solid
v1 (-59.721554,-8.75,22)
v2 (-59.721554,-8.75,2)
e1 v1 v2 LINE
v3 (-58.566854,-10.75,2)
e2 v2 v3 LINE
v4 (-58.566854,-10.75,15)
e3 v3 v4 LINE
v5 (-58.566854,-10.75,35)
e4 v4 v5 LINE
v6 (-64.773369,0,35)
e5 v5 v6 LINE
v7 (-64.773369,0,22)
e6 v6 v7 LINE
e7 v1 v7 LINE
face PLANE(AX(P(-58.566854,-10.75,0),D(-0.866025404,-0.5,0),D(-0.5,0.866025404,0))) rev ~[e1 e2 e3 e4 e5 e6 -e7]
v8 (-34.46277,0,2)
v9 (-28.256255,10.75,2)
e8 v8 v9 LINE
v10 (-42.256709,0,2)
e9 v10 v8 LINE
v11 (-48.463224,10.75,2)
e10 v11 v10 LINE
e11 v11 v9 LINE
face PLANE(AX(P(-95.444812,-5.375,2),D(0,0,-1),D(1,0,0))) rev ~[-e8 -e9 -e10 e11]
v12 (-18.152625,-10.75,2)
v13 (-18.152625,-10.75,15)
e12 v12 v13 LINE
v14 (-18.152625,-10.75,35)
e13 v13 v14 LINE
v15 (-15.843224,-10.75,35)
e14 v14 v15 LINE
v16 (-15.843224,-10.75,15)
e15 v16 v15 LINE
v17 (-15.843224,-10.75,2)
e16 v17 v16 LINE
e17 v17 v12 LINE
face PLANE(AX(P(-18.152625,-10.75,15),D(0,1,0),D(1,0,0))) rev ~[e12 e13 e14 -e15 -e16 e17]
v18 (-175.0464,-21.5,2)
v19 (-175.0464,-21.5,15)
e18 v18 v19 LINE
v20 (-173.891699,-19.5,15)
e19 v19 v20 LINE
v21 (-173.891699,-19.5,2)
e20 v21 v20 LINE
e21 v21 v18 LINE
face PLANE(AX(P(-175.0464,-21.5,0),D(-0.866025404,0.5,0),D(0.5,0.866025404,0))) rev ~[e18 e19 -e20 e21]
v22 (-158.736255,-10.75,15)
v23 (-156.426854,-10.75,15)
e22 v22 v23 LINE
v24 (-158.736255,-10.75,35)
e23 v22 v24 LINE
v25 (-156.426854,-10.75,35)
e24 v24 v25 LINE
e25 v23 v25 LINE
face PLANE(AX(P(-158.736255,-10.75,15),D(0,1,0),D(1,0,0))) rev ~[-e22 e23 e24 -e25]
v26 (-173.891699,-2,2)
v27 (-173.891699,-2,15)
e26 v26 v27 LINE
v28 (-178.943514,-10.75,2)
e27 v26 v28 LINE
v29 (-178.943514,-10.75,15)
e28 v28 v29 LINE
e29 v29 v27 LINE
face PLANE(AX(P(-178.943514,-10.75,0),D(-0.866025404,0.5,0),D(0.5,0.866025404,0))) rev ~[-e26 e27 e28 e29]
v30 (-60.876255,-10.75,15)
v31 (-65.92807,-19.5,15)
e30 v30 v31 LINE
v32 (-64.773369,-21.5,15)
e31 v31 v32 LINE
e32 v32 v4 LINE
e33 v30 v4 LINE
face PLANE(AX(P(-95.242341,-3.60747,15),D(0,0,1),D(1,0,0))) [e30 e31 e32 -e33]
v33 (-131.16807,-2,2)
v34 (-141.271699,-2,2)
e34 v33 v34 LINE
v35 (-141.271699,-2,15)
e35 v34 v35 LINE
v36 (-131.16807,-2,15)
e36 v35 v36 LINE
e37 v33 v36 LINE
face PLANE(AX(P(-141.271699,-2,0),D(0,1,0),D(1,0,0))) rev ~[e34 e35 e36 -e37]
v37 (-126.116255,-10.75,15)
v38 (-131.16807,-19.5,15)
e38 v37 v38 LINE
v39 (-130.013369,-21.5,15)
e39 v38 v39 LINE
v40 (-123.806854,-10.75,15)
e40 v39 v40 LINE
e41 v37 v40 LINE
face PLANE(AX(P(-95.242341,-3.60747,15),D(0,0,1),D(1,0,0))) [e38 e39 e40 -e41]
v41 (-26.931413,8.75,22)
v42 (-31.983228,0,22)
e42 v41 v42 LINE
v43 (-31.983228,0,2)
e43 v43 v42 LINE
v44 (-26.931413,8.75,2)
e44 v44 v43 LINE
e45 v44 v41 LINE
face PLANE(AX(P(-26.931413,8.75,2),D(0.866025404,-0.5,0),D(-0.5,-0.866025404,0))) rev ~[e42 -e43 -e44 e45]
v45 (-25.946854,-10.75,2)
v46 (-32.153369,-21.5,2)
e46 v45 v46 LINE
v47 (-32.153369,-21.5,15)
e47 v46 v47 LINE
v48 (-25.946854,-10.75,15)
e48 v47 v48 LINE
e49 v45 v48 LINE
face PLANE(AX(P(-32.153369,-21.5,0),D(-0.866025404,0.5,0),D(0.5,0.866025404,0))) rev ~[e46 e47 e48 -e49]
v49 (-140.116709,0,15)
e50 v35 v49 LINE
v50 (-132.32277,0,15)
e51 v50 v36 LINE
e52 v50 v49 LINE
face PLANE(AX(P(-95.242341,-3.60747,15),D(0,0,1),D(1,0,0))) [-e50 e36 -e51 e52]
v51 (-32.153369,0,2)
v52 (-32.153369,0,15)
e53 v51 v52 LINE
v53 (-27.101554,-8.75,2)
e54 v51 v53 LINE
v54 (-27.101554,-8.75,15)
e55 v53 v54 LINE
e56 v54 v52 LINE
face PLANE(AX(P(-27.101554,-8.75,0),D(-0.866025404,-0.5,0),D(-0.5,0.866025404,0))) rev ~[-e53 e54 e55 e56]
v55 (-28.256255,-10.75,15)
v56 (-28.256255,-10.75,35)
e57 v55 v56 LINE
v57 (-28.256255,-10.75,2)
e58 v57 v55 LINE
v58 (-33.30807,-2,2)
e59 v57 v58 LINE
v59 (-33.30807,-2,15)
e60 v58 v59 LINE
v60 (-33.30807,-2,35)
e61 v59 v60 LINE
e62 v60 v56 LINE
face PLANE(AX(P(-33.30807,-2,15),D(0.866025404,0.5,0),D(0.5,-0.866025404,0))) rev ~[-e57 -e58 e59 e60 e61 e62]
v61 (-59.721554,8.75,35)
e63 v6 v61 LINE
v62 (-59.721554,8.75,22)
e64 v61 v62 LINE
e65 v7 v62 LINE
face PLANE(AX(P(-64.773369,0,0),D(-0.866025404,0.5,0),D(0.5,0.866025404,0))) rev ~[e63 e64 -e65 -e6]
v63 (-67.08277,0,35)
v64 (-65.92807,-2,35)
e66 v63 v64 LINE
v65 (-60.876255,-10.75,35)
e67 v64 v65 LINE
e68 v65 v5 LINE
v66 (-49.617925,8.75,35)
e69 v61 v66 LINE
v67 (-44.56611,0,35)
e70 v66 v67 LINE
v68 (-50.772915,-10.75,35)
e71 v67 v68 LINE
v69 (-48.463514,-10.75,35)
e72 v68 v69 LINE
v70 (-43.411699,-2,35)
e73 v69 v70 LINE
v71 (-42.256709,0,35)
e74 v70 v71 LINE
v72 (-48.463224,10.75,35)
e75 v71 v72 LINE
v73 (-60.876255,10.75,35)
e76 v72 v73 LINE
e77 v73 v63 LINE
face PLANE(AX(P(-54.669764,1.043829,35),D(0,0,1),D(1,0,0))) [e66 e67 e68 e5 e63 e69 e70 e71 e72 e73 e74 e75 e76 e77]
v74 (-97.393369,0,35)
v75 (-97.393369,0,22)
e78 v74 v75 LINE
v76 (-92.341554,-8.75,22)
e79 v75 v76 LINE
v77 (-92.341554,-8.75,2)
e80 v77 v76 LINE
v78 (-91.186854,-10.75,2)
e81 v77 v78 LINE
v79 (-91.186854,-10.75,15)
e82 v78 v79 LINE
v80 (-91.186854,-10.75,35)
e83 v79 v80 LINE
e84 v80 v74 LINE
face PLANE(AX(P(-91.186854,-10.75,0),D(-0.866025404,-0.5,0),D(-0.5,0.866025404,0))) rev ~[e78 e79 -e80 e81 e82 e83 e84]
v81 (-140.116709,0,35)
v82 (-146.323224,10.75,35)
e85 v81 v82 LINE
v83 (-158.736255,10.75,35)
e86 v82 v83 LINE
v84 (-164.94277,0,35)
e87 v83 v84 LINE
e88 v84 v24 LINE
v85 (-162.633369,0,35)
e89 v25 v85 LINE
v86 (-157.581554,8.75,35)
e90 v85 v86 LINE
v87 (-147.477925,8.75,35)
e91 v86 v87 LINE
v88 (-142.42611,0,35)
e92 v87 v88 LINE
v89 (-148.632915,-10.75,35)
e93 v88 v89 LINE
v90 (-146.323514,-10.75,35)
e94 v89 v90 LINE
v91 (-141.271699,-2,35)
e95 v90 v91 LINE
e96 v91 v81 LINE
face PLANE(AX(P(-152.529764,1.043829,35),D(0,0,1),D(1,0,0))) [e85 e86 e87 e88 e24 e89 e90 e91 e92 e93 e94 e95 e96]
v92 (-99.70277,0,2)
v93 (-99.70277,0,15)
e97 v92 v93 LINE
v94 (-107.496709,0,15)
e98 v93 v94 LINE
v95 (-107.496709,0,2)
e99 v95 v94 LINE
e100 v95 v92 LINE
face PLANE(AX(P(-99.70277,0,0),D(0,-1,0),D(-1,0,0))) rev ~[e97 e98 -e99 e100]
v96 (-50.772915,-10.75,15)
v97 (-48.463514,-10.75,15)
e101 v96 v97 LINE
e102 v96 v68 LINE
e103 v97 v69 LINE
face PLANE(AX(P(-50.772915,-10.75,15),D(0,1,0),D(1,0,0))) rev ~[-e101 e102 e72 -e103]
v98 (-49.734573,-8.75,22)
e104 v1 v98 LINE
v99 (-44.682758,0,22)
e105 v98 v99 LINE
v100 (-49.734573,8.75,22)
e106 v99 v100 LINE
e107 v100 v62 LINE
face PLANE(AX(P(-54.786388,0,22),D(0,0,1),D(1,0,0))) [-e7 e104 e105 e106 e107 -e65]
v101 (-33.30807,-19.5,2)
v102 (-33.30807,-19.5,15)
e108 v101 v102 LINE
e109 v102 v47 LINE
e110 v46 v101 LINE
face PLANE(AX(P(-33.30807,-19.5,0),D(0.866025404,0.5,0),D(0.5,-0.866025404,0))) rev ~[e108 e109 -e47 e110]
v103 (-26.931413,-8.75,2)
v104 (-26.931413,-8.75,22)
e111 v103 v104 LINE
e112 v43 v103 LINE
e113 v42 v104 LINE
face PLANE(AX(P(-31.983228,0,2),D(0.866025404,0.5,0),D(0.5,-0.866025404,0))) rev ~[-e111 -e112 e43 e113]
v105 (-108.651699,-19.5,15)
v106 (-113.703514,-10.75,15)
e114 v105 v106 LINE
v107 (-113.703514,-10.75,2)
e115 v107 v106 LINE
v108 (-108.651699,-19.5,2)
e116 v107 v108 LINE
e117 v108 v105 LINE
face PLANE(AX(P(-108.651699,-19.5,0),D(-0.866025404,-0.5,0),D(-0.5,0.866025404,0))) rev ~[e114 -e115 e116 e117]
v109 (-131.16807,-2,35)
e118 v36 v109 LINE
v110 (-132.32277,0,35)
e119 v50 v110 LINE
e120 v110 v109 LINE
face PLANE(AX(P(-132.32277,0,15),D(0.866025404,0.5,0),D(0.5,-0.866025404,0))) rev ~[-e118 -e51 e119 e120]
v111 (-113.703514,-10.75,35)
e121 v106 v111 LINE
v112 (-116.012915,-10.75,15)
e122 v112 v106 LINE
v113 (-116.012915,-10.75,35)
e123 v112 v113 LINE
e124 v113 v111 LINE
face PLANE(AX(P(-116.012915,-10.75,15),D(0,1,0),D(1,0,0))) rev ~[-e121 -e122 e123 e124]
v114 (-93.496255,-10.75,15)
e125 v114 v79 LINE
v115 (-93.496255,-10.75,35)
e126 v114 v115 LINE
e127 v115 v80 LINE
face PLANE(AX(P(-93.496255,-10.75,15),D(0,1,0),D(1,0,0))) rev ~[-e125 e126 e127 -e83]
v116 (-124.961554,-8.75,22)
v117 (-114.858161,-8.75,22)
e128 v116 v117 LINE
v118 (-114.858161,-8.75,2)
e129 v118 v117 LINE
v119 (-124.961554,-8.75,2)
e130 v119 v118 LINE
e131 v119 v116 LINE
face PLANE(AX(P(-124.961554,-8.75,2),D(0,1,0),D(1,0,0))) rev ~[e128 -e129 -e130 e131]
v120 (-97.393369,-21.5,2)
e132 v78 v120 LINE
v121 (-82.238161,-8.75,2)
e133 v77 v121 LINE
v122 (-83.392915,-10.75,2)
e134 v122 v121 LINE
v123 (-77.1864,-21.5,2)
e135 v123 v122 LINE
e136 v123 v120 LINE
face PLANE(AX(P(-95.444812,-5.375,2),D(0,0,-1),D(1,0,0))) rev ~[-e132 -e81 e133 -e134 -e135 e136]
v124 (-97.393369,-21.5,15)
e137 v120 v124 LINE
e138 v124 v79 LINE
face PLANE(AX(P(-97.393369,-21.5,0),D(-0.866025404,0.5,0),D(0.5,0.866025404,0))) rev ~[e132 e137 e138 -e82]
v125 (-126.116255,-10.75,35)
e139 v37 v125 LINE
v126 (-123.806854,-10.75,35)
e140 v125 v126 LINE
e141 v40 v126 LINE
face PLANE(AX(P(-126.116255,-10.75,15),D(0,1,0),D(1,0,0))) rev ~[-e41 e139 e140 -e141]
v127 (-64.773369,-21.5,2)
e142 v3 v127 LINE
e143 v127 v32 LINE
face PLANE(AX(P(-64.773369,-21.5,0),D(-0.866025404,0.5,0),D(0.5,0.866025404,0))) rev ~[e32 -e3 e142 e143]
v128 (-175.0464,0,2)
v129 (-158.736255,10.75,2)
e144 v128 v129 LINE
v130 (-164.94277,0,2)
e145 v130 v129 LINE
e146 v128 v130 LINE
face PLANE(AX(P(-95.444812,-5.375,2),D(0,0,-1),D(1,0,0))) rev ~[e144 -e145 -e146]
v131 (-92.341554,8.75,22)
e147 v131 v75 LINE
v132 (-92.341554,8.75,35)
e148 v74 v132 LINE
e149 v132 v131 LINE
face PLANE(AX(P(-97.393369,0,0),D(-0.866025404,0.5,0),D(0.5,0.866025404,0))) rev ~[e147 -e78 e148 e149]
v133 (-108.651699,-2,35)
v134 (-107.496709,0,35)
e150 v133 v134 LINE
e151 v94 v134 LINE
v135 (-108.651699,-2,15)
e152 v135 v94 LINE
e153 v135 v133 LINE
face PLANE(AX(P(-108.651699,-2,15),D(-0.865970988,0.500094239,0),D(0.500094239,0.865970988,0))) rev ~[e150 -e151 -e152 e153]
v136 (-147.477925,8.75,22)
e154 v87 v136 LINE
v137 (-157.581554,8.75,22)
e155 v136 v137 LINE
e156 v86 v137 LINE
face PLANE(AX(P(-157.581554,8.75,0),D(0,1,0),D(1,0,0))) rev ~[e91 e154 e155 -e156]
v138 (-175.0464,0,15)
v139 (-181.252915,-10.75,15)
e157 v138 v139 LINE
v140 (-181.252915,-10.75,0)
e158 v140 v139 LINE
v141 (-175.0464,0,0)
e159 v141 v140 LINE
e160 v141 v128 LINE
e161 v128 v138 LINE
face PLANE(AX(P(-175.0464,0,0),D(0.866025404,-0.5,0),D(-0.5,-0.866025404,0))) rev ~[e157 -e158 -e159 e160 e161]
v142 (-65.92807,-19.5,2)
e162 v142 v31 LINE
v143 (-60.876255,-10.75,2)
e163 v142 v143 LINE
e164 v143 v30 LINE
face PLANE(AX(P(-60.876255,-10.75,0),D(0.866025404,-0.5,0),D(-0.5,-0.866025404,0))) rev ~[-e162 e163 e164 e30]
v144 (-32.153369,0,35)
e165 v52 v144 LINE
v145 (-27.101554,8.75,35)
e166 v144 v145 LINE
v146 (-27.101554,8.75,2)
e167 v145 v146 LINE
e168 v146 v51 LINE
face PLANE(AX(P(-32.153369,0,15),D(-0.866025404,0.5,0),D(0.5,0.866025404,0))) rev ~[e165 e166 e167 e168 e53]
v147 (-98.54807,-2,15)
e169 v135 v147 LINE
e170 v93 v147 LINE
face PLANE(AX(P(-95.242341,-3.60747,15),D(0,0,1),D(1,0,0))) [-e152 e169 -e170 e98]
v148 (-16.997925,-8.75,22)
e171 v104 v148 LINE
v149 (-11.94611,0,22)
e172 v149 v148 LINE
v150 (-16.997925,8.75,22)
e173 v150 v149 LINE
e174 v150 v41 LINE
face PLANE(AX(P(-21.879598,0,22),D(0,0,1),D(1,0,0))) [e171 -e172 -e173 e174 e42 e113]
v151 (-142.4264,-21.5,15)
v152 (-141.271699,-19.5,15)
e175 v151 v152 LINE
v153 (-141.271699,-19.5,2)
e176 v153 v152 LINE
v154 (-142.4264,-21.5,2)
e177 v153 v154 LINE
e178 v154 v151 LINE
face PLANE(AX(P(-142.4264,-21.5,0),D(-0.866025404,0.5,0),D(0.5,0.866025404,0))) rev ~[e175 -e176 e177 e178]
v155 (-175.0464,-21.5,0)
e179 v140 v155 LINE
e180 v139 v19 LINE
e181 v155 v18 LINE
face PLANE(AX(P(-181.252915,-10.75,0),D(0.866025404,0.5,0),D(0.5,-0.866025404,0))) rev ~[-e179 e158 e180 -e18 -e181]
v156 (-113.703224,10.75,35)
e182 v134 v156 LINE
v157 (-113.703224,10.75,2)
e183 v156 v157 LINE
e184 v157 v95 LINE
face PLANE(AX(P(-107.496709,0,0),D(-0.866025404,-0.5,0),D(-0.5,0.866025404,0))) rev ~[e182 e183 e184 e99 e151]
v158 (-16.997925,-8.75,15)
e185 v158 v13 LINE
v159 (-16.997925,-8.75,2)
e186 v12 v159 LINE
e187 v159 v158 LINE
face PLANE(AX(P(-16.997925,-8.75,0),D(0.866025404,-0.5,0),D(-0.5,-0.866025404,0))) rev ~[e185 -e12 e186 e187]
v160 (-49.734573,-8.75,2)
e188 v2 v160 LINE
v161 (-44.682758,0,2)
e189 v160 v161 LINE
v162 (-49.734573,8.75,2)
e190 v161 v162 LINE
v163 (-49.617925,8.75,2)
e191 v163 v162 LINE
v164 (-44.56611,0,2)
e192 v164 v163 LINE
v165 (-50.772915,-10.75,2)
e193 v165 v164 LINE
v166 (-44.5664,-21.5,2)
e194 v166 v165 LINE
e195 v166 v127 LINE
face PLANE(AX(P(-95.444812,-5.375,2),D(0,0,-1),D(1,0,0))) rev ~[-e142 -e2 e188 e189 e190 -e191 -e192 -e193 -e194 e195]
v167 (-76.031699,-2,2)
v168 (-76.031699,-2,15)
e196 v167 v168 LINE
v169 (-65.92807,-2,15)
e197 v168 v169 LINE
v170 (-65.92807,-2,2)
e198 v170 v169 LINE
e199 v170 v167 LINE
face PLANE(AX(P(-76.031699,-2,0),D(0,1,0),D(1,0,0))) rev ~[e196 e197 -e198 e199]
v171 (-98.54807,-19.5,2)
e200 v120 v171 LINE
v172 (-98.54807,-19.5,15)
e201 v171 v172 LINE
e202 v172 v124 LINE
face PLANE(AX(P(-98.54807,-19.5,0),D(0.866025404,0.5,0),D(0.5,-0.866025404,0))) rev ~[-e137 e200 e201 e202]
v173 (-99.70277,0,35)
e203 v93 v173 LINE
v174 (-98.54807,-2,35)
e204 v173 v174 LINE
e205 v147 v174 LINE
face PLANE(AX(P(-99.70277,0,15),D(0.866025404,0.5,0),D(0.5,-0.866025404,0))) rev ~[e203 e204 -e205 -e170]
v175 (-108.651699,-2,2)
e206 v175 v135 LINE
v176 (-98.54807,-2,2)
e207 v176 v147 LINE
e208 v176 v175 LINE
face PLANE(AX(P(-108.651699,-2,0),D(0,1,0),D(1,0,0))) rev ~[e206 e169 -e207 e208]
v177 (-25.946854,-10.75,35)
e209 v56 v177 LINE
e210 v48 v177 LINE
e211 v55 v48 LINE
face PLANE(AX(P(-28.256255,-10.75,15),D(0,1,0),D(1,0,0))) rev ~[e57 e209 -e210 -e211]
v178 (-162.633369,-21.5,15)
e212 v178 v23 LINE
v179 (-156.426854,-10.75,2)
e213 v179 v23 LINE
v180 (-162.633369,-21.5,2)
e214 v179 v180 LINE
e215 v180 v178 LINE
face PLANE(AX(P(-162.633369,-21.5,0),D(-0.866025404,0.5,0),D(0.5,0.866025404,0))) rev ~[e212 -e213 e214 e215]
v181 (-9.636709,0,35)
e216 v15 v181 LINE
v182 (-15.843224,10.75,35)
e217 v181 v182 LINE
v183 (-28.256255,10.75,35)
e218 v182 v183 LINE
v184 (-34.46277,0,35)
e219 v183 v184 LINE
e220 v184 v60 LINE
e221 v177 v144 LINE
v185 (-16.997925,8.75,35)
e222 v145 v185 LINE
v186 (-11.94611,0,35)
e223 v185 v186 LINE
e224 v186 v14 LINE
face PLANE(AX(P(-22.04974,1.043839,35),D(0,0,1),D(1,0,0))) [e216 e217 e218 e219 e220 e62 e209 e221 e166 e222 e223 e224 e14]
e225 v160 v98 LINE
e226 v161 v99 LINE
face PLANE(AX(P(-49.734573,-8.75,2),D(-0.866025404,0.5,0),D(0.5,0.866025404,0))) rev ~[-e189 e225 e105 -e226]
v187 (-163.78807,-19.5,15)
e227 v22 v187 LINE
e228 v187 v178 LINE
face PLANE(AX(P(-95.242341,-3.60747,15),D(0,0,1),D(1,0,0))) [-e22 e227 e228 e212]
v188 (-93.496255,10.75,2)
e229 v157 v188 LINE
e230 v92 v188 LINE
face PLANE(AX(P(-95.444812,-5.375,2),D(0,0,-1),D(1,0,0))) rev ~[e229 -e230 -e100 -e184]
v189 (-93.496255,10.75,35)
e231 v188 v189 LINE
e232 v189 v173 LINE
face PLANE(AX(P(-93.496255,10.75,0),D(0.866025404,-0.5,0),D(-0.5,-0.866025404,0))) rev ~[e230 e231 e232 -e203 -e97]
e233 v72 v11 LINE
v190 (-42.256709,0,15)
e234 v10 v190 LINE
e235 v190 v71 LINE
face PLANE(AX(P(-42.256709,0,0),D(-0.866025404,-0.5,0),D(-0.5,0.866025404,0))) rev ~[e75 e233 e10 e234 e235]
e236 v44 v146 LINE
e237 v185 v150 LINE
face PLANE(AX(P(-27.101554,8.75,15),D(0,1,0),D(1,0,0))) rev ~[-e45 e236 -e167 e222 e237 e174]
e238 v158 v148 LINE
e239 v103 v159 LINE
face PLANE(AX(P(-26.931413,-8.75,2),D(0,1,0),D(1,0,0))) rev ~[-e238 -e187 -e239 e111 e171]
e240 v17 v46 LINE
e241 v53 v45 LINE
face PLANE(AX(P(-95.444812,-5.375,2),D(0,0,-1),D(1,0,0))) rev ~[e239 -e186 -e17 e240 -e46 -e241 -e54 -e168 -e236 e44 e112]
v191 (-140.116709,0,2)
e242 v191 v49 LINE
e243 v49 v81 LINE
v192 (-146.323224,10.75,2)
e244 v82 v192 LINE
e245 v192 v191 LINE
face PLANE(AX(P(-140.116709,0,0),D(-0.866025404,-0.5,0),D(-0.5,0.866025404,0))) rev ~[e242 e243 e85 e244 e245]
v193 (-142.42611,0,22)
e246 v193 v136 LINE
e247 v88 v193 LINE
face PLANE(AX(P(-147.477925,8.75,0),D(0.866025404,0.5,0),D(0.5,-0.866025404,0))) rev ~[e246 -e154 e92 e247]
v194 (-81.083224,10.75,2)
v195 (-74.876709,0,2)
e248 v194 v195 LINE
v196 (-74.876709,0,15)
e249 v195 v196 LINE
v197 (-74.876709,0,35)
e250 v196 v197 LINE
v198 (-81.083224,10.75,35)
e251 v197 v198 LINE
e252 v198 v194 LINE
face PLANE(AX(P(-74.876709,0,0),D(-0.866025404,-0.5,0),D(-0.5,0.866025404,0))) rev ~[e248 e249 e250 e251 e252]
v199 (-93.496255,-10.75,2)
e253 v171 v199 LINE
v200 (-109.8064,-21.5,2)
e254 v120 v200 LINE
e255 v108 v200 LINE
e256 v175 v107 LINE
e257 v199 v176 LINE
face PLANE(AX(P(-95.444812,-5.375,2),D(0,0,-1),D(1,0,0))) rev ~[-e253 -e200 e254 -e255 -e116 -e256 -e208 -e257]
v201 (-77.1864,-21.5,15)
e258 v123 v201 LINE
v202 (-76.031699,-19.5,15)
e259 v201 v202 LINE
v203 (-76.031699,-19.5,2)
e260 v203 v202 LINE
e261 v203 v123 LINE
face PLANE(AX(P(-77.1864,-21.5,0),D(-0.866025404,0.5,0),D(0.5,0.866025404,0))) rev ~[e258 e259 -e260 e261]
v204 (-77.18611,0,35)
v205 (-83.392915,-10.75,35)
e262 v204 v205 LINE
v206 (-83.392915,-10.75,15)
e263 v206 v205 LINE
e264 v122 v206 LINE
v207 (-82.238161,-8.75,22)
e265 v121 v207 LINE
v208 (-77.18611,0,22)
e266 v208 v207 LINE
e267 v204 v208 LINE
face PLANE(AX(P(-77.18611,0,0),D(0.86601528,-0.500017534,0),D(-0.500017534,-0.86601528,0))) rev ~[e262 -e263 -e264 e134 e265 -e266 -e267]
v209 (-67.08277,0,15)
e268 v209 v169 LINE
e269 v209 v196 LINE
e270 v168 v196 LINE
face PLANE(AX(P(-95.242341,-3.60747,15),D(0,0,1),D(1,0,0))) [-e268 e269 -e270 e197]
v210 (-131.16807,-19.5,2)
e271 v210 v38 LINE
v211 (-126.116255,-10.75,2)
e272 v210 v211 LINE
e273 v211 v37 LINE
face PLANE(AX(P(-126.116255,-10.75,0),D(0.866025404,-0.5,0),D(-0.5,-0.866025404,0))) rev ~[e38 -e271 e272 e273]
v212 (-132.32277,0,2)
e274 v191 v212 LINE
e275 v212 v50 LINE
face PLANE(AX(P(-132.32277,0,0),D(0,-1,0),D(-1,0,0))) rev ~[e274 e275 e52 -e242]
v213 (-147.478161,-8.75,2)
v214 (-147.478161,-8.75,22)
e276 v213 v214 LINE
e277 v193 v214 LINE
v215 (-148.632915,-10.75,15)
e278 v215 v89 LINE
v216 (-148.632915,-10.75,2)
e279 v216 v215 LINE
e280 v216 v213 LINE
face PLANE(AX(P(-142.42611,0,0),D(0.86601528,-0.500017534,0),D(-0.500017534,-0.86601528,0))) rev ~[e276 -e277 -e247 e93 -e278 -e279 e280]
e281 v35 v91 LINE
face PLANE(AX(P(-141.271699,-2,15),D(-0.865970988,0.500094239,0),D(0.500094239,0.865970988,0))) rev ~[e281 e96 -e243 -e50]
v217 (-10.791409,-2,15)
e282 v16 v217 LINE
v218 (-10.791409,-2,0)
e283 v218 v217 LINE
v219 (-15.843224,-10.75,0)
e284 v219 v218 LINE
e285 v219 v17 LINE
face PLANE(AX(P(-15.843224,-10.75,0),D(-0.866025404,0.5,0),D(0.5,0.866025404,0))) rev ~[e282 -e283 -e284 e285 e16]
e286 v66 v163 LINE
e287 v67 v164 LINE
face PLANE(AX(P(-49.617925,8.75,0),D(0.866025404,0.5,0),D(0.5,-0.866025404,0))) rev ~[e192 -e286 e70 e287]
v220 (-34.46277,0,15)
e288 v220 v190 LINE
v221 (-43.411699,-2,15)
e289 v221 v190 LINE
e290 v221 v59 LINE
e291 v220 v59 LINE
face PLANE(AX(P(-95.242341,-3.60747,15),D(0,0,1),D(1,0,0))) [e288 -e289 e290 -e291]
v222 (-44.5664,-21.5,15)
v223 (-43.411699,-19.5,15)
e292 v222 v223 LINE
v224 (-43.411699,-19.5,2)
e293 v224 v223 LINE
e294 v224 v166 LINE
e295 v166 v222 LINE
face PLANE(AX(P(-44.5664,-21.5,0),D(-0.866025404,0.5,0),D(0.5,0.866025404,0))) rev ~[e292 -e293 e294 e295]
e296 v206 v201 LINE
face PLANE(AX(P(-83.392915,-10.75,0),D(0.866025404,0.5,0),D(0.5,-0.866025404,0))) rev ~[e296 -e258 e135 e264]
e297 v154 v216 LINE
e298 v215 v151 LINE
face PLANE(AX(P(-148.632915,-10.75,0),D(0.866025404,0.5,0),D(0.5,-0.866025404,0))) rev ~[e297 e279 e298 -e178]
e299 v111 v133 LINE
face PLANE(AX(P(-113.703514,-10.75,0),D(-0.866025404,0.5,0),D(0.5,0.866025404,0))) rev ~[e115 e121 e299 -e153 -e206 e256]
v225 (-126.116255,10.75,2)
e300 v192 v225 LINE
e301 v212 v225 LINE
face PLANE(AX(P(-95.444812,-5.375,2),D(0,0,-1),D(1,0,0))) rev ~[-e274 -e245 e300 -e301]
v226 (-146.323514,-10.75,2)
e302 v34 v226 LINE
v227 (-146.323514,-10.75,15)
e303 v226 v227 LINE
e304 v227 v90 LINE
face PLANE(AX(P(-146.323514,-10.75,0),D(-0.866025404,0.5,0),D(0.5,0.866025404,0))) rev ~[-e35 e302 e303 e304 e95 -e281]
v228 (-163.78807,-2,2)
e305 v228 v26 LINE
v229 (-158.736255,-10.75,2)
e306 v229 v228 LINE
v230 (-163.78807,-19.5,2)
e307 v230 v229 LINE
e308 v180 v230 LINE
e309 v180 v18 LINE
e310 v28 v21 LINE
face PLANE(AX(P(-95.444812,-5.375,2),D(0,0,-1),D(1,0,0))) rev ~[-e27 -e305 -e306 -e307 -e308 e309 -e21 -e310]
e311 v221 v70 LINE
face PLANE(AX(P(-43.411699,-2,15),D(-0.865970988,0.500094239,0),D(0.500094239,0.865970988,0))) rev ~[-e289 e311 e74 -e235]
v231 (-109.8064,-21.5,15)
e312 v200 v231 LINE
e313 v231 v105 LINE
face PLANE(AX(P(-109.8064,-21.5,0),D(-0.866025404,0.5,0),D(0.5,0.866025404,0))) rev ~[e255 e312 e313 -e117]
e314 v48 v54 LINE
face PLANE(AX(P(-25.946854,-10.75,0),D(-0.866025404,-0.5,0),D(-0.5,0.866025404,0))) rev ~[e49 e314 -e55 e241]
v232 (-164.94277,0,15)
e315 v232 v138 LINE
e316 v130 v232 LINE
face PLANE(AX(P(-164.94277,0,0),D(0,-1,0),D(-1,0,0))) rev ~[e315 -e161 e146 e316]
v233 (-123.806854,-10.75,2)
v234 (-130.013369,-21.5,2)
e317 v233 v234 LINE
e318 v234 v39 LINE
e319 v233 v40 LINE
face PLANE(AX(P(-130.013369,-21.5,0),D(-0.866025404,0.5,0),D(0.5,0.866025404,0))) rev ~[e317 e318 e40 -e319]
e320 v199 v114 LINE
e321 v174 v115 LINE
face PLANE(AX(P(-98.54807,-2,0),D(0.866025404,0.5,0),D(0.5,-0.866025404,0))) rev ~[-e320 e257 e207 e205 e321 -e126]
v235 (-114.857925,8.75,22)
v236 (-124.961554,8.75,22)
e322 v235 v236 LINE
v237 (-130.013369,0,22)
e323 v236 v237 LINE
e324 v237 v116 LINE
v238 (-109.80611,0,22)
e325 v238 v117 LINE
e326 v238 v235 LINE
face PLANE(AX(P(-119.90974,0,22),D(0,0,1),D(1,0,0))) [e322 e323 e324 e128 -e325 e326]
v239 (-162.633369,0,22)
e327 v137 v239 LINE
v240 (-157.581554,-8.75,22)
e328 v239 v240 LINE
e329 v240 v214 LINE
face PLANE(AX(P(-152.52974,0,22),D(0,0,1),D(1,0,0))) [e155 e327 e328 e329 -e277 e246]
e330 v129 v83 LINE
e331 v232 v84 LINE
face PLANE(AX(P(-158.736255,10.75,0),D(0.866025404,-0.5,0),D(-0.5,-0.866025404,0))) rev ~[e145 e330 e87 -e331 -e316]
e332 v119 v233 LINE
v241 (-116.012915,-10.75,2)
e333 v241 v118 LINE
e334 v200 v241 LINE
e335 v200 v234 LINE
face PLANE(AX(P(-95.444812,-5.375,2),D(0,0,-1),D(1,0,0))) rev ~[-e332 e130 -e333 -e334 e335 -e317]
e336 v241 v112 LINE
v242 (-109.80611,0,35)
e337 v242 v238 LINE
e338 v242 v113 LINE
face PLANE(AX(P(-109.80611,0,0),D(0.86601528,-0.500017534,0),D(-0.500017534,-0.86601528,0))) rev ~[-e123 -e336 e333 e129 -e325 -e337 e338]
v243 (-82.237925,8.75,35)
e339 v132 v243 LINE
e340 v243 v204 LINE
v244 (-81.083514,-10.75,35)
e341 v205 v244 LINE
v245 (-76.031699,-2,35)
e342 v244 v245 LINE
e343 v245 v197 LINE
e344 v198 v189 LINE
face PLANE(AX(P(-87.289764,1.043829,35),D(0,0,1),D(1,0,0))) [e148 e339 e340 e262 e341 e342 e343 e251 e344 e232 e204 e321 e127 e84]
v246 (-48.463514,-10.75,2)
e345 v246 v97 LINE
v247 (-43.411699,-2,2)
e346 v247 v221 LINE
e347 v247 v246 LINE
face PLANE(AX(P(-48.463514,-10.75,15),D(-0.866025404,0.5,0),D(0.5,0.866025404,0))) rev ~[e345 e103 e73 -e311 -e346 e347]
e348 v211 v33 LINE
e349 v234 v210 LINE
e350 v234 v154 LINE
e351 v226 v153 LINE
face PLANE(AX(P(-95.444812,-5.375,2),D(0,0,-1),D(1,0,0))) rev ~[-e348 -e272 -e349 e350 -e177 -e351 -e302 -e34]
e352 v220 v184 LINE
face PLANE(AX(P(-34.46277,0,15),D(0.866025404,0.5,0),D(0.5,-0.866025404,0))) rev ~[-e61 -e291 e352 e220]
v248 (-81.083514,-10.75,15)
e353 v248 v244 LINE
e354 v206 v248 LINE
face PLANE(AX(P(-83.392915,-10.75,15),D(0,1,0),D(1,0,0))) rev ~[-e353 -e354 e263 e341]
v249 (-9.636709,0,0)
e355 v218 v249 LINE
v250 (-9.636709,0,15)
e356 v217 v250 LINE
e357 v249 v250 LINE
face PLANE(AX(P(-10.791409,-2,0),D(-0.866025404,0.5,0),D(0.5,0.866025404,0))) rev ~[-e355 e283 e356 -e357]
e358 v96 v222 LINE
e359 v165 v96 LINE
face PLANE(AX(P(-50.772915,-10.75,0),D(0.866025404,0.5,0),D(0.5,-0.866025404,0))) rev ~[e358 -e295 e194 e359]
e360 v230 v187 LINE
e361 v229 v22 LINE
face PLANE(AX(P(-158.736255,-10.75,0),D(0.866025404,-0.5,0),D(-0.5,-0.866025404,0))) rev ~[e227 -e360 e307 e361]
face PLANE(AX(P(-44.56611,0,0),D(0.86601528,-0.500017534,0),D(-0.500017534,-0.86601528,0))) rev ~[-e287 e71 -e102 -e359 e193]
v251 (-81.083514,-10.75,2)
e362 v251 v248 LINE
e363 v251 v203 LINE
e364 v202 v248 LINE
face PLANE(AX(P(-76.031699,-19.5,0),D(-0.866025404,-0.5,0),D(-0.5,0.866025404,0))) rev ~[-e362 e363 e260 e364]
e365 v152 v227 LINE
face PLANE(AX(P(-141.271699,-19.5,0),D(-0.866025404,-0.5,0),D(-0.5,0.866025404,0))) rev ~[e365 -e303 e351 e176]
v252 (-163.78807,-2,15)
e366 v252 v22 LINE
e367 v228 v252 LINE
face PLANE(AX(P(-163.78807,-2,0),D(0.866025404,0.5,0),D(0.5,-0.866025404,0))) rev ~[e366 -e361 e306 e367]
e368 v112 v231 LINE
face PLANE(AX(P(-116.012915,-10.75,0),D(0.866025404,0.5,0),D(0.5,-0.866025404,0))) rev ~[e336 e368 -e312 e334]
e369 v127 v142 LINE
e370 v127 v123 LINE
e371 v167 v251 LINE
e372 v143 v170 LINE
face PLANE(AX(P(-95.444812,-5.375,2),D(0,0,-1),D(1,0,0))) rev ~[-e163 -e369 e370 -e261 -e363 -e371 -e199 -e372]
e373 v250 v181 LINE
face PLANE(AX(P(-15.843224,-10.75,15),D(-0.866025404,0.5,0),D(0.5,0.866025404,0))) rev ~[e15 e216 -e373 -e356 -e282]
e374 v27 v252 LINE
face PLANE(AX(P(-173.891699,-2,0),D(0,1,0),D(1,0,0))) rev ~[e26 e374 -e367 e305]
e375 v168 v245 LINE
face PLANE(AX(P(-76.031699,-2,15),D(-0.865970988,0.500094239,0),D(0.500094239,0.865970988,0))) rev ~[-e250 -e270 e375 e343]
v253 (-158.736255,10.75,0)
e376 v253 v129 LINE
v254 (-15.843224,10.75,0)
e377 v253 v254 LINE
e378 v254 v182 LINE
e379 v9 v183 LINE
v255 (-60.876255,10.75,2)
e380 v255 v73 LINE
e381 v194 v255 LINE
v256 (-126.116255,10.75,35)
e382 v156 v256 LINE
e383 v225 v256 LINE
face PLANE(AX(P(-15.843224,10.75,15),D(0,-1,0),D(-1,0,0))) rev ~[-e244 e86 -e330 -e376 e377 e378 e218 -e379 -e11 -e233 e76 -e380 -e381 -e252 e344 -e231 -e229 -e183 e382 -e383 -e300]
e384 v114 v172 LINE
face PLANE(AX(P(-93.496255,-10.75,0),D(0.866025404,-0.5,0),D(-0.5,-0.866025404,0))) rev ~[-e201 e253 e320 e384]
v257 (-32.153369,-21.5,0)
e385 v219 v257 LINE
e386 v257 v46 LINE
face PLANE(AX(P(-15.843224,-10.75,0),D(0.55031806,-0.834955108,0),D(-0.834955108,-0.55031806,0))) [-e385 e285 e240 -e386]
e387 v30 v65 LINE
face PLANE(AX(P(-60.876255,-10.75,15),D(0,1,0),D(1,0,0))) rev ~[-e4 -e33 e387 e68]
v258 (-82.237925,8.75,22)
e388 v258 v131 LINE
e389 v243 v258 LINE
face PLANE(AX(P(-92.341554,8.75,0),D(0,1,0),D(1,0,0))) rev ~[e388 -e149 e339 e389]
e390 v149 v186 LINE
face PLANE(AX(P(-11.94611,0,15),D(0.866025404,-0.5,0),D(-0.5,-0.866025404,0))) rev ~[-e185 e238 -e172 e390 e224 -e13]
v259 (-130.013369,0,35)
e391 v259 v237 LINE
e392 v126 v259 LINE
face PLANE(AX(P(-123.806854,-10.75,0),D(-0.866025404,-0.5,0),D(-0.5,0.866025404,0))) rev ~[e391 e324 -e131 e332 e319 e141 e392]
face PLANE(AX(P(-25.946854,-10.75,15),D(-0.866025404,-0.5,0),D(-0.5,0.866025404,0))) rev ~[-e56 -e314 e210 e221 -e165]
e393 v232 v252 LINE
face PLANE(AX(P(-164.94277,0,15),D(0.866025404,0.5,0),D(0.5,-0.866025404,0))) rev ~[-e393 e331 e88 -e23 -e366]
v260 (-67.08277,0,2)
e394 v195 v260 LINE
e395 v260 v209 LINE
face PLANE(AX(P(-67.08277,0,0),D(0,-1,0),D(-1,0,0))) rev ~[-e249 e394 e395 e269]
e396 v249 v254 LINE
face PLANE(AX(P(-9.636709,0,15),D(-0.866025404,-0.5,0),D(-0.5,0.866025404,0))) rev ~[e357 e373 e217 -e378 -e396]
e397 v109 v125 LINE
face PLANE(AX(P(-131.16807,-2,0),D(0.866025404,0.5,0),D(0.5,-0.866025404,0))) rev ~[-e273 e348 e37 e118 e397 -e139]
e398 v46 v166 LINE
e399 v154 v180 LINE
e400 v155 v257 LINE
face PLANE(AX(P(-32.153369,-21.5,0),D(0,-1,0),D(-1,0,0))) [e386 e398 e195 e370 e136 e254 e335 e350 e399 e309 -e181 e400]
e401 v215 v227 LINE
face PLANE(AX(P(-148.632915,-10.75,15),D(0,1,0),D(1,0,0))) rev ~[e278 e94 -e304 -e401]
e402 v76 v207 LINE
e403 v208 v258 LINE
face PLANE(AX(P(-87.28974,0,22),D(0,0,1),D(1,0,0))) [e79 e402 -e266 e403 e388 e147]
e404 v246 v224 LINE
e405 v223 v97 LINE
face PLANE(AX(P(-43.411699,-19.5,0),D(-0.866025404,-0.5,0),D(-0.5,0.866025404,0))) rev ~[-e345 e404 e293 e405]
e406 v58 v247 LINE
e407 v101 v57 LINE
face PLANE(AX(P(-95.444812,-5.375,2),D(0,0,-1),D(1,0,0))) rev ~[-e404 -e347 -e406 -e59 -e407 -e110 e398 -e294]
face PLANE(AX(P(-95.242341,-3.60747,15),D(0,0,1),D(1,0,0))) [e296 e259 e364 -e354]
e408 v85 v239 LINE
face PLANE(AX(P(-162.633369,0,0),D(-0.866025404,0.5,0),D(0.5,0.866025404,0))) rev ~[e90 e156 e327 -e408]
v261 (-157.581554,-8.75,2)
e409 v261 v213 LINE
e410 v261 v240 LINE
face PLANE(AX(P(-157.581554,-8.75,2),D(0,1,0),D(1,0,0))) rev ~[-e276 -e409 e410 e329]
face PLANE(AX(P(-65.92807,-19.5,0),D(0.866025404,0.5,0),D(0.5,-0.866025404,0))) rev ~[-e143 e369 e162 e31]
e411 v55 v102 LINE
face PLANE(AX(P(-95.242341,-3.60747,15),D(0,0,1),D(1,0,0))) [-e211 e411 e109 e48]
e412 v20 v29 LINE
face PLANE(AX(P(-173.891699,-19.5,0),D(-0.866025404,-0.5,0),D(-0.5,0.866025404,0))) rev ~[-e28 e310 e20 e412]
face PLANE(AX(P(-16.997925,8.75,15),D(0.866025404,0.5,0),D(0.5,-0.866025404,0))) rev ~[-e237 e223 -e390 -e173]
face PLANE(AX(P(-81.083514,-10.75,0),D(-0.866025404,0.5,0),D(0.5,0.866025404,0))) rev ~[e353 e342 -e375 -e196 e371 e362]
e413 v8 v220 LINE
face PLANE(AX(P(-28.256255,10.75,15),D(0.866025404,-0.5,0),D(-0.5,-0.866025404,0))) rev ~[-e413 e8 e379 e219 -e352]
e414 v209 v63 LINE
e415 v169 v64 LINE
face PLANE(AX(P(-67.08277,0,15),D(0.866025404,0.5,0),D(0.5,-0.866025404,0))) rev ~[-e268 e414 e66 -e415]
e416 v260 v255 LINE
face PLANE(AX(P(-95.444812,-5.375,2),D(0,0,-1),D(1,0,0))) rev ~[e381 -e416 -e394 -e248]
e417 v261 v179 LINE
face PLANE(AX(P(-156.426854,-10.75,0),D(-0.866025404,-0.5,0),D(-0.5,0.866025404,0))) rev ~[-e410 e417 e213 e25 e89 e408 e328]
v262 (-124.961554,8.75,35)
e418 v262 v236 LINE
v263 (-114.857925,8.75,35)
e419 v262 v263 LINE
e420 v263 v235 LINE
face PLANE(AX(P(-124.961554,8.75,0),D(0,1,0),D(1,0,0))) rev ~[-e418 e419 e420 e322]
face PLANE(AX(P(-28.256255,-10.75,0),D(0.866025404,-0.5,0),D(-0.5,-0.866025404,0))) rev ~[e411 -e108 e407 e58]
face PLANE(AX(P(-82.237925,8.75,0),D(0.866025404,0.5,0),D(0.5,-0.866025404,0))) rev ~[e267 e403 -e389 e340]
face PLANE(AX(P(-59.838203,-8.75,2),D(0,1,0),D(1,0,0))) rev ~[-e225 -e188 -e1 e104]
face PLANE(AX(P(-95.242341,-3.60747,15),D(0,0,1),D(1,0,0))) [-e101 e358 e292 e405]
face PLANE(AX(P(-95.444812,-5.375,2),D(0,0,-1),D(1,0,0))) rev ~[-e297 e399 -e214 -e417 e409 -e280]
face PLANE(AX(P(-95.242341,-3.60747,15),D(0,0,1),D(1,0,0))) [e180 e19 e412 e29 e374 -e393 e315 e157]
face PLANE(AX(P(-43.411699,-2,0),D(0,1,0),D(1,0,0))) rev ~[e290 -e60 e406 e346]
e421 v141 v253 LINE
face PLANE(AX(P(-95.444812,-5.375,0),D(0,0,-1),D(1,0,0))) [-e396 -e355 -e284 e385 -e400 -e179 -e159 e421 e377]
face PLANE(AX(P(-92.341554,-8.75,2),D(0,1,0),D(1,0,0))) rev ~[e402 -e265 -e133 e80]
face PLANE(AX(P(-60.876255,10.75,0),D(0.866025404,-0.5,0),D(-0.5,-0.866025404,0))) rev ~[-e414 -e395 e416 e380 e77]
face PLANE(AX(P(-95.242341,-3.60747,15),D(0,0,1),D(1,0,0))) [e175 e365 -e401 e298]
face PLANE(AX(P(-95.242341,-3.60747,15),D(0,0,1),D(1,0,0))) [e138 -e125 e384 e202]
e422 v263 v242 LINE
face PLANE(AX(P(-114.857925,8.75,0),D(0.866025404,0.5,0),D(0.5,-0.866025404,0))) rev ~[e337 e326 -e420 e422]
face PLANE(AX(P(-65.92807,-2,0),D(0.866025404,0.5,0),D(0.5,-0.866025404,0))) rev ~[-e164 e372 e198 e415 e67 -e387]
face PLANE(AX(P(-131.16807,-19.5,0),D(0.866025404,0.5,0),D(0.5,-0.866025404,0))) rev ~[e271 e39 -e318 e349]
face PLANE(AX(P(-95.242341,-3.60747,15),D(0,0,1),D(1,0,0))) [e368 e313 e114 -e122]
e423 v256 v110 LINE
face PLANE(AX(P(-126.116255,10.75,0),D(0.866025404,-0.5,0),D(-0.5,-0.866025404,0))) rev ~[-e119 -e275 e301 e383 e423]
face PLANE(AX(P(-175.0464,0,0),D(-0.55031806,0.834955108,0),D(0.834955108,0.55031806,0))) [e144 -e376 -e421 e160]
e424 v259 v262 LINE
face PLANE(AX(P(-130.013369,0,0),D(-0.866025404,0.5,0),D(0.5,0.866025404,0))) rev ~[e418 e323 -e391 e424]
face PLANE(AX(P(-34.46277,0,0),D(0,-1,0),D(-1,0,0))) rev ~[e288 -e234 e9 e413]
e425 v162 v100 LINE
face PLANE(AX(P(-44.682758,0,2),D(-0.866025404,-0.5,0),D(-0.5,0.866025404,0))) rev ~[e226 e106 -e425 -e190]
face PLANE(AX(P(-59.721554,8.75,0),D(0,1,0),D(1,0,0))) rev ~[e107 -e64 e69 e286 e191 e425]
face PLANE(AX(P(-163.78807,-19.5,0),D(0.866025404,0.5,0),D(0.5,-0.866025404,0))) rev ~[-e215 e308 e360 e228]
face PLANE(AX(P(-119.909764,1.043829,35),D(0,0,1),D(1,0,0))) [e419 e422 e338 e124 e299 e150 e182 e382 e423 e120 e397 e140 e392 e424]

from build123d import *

# Parameters (mm, degrees)
F1_DEPTH = 15
F3_DEPTH = 2
F5_DEPTH = 20
F7_DEPTH = 20


with BuildPart() as f1:
    # F0 (on Top) → F1 (new body)
    with BuildSketch(Plane.XY):
        Polygon((-43.4116994914, -2), (-33.3080697806, -2), (-28.2562549252, -10.75), (-33.3080697806, -19.5), (-32.1533692422, -21.5), (-25.9468538484, -10.75), (-27.1015543868, -8.75), (-32.1533692422, 0), (-27.1015543868, 8.75), (-22.0497395314, 8.75), (-16.997924676, 8.75), (-11.9461098206, 0), (-14.4720172483, -4.375), (-16.997924676, -8.75), (-18.1526252144, -10.75), (-15.8432241376, -10.75), (-10.7914092822, -2), (-9.6367087438, 0), (-15.8432241376, 10.75), (-22.0497395314, 10.75), (-28.2562549252, 10.75), (-34.462770319, 0), (-42.2567087438, 0), (-48.4632241376, 10.75), (-54.6697395314, 10.75), (-60.8762549252, 10.75), (-67.082770319, 0), (-74.8767087438, 0), (-81.0832241376, 10.75), (-87.2897395314, 10.75), (-93.4962549252, 10.75), (-99.702770319, 0), (-107.4967087438, 0), (-113.7032241376, 10.75), (-119.9097395314, 10.75), (-126.1162549252, 10.75), (-132.322770319, 0), (-140.1167087438, 0), (-146.3232241376, 10.75), (-152.5297395314, 10.75), (-158.7362549252, 10.75), (-164.942770319, 0), (-175.0464000298, 0), (-181.2529154236, -10.75), (-175.0464000298, -21.5), (-173.8916994914, -19.5), (-178.9435143468, -10.75), (-173.8916994914, -2), (-163.7880697806, -2), (-158.7362549252, -10.75), (-163.7880697806, -19.5), (-162.6333692422, -21.5), (-156.4268538484, -10.75), (-162.6333692422, 0), (-157.5815543868, 8.75), (-152.5297395314, 8.75), (-147.477924676, 8.75), (-142.4261098206, 0), (-148.6329154236, -10.75), (-142.4264000298, -21.5), (-141.2716994914, -19.5), (-146.3235143468, -10.75), (-141.2716994914, -2), (-131.1680697806, -2), (-126.1162549252, -10.75), (-131.1680697806, -19.5), (-130.0133692422, -21.5), (-123.8068538484, -10.75), (-130.0133692422, 0), (-124.9615543868, 8.75), (-119.9097395314, 8.75), (-114.857924676, 8.75), (-109.8061098206, 0), (-116.0129154236, -10.75), (-109.8064000298, -21.5), (-108.6516994914, -19.5), (-113.7035143468, -10.75), (-108.6516994914, -2), (-98.5480697806, -2), (-93.4962549252, -10.75), (-98.5480697806, -19.5), (-97.3933692422, -21.5), (-91.1868538484, -10.75), (-97.3933692422, 0), (-92.3415543868, 8.75), (-87.2897395314, 8.75), (-82.237924676, 8.75), (-77.1861098206, 0), (-83.3929154236, -10.75), (-77.1864000298, -21.5), (-76.0316994914, -19.5), (-81.0835143468, -10.75), (-76.0316994914, -2), (-65.9280697806, -2), (-60.8762549252, -10.75), (-65.9280697806, -19.5), (-64.7733692422, -21.5), (-58.5668538484, -10.75), (-64.7733692422, 0), (-59.7215543868, 8.75), (-54.6697395314, 8.75), (-49.617924676, 8.75), (-44.5661098206, 0), (-50.7729154236, -10.75), (-44.5664000298, -21.5), (-43.4116994914, -19.5), (-48.4635143468, -10.75), align=None)
    extrude(amount=F1_DEPTH)

    # F2 (on face) → F3 (join)
    with BuildSketch(Plane(origin=(0, 0, 0), x_dir=(1, 0, 0), z_dir=(0, 0, -1))):
        Polygon((-32.1533692422, 21.5), (-175.0464000298, 21.5), (-181.2529154236, 10.75), (-175.0464000298, 0), (-158.7362549252, -10.75), (-15.8432241376, -10.75), (-9.6367087438, 0), (-15.8432241376, 10.75), align=None)
    extrude(amount=-F3_DEPTH)

    # F4 (on face) → F5 (join)
    with BuildSketch(Plane.XY.offset(15)):
        Polygon((-11.9461098206, 0), (-18.1526252144, -10.75), (-15.8432241376, -10.75), (-9.6367087438, 0), (-15.8432241376, 10.75), (-28.2562549252, 10.75), (-34.462770319, 0), (-33.3080697806, -2), (-28.2562549252, -10.75), (-25.9468538484, -10.75), (-32.1533692422, 0), (-27.1015543868, 8.75), (-16.997924676, 8.75), align=None)
        Polygon((-43.4116994914, -2), (-42.2567087438, 0), (-48.4632241376, 10.75), (-60.8762549252, 10.75), (-67.082770319, 0), (-65.9280697806, -2), (-60.8762549252, -10.75), (-58.5668538484, -10.75), (-64.7733692422, 0), (-59.7215543868, 8.75), (-49.617924676, 8.75), (-44.5661098206, 0), (-50.7729154236, -10.75), (-48.4635143468, -10.75), align=None)
        Polygon((-76.0316994914, -2), (-74.8767087438, 0), (-81.0832241376, 10.75), (-93.4962549252, 10.75), (-99.702770319, 0), (-98.5480697806, -2), (-93.4962549252, -10.75), (-91.1868538484, -10.75), (-97.3933692422, 0), (-92.3415543868, 8.75), (-82.237924676, 8.75), (-77.1861098206, 0), (-83.3929154236, -10.75), (-81.0835143468, -10.75), align=None)
        Polygon((-108.6516994914, -2), (-107.4967087438, 0), (-113.7032241376, 10.75), (-126.1162549252, 10.75), (-132.322770319, 0), (-131.1680697806, -2), (-126.1162549252, -10.75), (-123.8068538484, -10.75), (-130.0133692422, 0), (-124.9615543868, 8.75), (-114.857924676, 8.75), (-109.8061098206, 0), (-116.0129154236, -10.75), (-113.7035143468, -10.75), align=None)
        Polygon((-141.2716994914, -2), (-140.1167087438, 0), (-146.3232241376, 10.75), (-158.7362549252, 10.75), (-164.942770319, 0), (-158.7362549252, -10.75), (-156.4268538484, -10.75), (-162.6333692422, 0), (-157.5815543868, 8.75), (-147.477924676, 8.75), (-142.4261098206, 0), (-148.6329154236, -10.75), (-146.3235143468, -10.75), align=None)
    extrude(amount=F5_DEPTH)

    # F6 (on face) → F7 (join)
    with BuildSketch(Plane.XY.offset(2)):
        Polygon((-147.477924676, 8.75), (-157.5815543868, 8.75), (-162.6333692422, 0), (-157.5815543868, -8.75), (-147.477924676, -8.75), (-142.4261098206, 0), align=None)
        Polygon((-114.857924676, 8.75), (-124.9615543868, 8.75), (-130.0133692422, 0), (-124.9615543868, -8.75), (-114.857924676, -8.75), (-109.8061098206, 0), align=None)
        Polygon((-82.237924676, 8.75), (-92.3415543868, 8.75), (-97.3933692422, 0), (-92.3415543868, -8.75), (-82.237924676, -8.75), (-77.1861098206, 0), align=None)
        Polygon((-44.6827581202, 0), (-49.7345729756, 8.75), (-59.8382026864, 8.75), (-64.8900175418, 0), (-59.8382026864, -8.75), (-49.7345729756, -8.75), align=None)
        Polygon((-16.8277836429, 8.75), (-26.9314133538, 8.75), (-31.9832282092, 0), (-26.9314133538, -8.75), (-16.8277836429, -8.75), (-11.7759687875, 0), align=None)
    extrude(amount=F7_DEPTH)


solid = f1.part
